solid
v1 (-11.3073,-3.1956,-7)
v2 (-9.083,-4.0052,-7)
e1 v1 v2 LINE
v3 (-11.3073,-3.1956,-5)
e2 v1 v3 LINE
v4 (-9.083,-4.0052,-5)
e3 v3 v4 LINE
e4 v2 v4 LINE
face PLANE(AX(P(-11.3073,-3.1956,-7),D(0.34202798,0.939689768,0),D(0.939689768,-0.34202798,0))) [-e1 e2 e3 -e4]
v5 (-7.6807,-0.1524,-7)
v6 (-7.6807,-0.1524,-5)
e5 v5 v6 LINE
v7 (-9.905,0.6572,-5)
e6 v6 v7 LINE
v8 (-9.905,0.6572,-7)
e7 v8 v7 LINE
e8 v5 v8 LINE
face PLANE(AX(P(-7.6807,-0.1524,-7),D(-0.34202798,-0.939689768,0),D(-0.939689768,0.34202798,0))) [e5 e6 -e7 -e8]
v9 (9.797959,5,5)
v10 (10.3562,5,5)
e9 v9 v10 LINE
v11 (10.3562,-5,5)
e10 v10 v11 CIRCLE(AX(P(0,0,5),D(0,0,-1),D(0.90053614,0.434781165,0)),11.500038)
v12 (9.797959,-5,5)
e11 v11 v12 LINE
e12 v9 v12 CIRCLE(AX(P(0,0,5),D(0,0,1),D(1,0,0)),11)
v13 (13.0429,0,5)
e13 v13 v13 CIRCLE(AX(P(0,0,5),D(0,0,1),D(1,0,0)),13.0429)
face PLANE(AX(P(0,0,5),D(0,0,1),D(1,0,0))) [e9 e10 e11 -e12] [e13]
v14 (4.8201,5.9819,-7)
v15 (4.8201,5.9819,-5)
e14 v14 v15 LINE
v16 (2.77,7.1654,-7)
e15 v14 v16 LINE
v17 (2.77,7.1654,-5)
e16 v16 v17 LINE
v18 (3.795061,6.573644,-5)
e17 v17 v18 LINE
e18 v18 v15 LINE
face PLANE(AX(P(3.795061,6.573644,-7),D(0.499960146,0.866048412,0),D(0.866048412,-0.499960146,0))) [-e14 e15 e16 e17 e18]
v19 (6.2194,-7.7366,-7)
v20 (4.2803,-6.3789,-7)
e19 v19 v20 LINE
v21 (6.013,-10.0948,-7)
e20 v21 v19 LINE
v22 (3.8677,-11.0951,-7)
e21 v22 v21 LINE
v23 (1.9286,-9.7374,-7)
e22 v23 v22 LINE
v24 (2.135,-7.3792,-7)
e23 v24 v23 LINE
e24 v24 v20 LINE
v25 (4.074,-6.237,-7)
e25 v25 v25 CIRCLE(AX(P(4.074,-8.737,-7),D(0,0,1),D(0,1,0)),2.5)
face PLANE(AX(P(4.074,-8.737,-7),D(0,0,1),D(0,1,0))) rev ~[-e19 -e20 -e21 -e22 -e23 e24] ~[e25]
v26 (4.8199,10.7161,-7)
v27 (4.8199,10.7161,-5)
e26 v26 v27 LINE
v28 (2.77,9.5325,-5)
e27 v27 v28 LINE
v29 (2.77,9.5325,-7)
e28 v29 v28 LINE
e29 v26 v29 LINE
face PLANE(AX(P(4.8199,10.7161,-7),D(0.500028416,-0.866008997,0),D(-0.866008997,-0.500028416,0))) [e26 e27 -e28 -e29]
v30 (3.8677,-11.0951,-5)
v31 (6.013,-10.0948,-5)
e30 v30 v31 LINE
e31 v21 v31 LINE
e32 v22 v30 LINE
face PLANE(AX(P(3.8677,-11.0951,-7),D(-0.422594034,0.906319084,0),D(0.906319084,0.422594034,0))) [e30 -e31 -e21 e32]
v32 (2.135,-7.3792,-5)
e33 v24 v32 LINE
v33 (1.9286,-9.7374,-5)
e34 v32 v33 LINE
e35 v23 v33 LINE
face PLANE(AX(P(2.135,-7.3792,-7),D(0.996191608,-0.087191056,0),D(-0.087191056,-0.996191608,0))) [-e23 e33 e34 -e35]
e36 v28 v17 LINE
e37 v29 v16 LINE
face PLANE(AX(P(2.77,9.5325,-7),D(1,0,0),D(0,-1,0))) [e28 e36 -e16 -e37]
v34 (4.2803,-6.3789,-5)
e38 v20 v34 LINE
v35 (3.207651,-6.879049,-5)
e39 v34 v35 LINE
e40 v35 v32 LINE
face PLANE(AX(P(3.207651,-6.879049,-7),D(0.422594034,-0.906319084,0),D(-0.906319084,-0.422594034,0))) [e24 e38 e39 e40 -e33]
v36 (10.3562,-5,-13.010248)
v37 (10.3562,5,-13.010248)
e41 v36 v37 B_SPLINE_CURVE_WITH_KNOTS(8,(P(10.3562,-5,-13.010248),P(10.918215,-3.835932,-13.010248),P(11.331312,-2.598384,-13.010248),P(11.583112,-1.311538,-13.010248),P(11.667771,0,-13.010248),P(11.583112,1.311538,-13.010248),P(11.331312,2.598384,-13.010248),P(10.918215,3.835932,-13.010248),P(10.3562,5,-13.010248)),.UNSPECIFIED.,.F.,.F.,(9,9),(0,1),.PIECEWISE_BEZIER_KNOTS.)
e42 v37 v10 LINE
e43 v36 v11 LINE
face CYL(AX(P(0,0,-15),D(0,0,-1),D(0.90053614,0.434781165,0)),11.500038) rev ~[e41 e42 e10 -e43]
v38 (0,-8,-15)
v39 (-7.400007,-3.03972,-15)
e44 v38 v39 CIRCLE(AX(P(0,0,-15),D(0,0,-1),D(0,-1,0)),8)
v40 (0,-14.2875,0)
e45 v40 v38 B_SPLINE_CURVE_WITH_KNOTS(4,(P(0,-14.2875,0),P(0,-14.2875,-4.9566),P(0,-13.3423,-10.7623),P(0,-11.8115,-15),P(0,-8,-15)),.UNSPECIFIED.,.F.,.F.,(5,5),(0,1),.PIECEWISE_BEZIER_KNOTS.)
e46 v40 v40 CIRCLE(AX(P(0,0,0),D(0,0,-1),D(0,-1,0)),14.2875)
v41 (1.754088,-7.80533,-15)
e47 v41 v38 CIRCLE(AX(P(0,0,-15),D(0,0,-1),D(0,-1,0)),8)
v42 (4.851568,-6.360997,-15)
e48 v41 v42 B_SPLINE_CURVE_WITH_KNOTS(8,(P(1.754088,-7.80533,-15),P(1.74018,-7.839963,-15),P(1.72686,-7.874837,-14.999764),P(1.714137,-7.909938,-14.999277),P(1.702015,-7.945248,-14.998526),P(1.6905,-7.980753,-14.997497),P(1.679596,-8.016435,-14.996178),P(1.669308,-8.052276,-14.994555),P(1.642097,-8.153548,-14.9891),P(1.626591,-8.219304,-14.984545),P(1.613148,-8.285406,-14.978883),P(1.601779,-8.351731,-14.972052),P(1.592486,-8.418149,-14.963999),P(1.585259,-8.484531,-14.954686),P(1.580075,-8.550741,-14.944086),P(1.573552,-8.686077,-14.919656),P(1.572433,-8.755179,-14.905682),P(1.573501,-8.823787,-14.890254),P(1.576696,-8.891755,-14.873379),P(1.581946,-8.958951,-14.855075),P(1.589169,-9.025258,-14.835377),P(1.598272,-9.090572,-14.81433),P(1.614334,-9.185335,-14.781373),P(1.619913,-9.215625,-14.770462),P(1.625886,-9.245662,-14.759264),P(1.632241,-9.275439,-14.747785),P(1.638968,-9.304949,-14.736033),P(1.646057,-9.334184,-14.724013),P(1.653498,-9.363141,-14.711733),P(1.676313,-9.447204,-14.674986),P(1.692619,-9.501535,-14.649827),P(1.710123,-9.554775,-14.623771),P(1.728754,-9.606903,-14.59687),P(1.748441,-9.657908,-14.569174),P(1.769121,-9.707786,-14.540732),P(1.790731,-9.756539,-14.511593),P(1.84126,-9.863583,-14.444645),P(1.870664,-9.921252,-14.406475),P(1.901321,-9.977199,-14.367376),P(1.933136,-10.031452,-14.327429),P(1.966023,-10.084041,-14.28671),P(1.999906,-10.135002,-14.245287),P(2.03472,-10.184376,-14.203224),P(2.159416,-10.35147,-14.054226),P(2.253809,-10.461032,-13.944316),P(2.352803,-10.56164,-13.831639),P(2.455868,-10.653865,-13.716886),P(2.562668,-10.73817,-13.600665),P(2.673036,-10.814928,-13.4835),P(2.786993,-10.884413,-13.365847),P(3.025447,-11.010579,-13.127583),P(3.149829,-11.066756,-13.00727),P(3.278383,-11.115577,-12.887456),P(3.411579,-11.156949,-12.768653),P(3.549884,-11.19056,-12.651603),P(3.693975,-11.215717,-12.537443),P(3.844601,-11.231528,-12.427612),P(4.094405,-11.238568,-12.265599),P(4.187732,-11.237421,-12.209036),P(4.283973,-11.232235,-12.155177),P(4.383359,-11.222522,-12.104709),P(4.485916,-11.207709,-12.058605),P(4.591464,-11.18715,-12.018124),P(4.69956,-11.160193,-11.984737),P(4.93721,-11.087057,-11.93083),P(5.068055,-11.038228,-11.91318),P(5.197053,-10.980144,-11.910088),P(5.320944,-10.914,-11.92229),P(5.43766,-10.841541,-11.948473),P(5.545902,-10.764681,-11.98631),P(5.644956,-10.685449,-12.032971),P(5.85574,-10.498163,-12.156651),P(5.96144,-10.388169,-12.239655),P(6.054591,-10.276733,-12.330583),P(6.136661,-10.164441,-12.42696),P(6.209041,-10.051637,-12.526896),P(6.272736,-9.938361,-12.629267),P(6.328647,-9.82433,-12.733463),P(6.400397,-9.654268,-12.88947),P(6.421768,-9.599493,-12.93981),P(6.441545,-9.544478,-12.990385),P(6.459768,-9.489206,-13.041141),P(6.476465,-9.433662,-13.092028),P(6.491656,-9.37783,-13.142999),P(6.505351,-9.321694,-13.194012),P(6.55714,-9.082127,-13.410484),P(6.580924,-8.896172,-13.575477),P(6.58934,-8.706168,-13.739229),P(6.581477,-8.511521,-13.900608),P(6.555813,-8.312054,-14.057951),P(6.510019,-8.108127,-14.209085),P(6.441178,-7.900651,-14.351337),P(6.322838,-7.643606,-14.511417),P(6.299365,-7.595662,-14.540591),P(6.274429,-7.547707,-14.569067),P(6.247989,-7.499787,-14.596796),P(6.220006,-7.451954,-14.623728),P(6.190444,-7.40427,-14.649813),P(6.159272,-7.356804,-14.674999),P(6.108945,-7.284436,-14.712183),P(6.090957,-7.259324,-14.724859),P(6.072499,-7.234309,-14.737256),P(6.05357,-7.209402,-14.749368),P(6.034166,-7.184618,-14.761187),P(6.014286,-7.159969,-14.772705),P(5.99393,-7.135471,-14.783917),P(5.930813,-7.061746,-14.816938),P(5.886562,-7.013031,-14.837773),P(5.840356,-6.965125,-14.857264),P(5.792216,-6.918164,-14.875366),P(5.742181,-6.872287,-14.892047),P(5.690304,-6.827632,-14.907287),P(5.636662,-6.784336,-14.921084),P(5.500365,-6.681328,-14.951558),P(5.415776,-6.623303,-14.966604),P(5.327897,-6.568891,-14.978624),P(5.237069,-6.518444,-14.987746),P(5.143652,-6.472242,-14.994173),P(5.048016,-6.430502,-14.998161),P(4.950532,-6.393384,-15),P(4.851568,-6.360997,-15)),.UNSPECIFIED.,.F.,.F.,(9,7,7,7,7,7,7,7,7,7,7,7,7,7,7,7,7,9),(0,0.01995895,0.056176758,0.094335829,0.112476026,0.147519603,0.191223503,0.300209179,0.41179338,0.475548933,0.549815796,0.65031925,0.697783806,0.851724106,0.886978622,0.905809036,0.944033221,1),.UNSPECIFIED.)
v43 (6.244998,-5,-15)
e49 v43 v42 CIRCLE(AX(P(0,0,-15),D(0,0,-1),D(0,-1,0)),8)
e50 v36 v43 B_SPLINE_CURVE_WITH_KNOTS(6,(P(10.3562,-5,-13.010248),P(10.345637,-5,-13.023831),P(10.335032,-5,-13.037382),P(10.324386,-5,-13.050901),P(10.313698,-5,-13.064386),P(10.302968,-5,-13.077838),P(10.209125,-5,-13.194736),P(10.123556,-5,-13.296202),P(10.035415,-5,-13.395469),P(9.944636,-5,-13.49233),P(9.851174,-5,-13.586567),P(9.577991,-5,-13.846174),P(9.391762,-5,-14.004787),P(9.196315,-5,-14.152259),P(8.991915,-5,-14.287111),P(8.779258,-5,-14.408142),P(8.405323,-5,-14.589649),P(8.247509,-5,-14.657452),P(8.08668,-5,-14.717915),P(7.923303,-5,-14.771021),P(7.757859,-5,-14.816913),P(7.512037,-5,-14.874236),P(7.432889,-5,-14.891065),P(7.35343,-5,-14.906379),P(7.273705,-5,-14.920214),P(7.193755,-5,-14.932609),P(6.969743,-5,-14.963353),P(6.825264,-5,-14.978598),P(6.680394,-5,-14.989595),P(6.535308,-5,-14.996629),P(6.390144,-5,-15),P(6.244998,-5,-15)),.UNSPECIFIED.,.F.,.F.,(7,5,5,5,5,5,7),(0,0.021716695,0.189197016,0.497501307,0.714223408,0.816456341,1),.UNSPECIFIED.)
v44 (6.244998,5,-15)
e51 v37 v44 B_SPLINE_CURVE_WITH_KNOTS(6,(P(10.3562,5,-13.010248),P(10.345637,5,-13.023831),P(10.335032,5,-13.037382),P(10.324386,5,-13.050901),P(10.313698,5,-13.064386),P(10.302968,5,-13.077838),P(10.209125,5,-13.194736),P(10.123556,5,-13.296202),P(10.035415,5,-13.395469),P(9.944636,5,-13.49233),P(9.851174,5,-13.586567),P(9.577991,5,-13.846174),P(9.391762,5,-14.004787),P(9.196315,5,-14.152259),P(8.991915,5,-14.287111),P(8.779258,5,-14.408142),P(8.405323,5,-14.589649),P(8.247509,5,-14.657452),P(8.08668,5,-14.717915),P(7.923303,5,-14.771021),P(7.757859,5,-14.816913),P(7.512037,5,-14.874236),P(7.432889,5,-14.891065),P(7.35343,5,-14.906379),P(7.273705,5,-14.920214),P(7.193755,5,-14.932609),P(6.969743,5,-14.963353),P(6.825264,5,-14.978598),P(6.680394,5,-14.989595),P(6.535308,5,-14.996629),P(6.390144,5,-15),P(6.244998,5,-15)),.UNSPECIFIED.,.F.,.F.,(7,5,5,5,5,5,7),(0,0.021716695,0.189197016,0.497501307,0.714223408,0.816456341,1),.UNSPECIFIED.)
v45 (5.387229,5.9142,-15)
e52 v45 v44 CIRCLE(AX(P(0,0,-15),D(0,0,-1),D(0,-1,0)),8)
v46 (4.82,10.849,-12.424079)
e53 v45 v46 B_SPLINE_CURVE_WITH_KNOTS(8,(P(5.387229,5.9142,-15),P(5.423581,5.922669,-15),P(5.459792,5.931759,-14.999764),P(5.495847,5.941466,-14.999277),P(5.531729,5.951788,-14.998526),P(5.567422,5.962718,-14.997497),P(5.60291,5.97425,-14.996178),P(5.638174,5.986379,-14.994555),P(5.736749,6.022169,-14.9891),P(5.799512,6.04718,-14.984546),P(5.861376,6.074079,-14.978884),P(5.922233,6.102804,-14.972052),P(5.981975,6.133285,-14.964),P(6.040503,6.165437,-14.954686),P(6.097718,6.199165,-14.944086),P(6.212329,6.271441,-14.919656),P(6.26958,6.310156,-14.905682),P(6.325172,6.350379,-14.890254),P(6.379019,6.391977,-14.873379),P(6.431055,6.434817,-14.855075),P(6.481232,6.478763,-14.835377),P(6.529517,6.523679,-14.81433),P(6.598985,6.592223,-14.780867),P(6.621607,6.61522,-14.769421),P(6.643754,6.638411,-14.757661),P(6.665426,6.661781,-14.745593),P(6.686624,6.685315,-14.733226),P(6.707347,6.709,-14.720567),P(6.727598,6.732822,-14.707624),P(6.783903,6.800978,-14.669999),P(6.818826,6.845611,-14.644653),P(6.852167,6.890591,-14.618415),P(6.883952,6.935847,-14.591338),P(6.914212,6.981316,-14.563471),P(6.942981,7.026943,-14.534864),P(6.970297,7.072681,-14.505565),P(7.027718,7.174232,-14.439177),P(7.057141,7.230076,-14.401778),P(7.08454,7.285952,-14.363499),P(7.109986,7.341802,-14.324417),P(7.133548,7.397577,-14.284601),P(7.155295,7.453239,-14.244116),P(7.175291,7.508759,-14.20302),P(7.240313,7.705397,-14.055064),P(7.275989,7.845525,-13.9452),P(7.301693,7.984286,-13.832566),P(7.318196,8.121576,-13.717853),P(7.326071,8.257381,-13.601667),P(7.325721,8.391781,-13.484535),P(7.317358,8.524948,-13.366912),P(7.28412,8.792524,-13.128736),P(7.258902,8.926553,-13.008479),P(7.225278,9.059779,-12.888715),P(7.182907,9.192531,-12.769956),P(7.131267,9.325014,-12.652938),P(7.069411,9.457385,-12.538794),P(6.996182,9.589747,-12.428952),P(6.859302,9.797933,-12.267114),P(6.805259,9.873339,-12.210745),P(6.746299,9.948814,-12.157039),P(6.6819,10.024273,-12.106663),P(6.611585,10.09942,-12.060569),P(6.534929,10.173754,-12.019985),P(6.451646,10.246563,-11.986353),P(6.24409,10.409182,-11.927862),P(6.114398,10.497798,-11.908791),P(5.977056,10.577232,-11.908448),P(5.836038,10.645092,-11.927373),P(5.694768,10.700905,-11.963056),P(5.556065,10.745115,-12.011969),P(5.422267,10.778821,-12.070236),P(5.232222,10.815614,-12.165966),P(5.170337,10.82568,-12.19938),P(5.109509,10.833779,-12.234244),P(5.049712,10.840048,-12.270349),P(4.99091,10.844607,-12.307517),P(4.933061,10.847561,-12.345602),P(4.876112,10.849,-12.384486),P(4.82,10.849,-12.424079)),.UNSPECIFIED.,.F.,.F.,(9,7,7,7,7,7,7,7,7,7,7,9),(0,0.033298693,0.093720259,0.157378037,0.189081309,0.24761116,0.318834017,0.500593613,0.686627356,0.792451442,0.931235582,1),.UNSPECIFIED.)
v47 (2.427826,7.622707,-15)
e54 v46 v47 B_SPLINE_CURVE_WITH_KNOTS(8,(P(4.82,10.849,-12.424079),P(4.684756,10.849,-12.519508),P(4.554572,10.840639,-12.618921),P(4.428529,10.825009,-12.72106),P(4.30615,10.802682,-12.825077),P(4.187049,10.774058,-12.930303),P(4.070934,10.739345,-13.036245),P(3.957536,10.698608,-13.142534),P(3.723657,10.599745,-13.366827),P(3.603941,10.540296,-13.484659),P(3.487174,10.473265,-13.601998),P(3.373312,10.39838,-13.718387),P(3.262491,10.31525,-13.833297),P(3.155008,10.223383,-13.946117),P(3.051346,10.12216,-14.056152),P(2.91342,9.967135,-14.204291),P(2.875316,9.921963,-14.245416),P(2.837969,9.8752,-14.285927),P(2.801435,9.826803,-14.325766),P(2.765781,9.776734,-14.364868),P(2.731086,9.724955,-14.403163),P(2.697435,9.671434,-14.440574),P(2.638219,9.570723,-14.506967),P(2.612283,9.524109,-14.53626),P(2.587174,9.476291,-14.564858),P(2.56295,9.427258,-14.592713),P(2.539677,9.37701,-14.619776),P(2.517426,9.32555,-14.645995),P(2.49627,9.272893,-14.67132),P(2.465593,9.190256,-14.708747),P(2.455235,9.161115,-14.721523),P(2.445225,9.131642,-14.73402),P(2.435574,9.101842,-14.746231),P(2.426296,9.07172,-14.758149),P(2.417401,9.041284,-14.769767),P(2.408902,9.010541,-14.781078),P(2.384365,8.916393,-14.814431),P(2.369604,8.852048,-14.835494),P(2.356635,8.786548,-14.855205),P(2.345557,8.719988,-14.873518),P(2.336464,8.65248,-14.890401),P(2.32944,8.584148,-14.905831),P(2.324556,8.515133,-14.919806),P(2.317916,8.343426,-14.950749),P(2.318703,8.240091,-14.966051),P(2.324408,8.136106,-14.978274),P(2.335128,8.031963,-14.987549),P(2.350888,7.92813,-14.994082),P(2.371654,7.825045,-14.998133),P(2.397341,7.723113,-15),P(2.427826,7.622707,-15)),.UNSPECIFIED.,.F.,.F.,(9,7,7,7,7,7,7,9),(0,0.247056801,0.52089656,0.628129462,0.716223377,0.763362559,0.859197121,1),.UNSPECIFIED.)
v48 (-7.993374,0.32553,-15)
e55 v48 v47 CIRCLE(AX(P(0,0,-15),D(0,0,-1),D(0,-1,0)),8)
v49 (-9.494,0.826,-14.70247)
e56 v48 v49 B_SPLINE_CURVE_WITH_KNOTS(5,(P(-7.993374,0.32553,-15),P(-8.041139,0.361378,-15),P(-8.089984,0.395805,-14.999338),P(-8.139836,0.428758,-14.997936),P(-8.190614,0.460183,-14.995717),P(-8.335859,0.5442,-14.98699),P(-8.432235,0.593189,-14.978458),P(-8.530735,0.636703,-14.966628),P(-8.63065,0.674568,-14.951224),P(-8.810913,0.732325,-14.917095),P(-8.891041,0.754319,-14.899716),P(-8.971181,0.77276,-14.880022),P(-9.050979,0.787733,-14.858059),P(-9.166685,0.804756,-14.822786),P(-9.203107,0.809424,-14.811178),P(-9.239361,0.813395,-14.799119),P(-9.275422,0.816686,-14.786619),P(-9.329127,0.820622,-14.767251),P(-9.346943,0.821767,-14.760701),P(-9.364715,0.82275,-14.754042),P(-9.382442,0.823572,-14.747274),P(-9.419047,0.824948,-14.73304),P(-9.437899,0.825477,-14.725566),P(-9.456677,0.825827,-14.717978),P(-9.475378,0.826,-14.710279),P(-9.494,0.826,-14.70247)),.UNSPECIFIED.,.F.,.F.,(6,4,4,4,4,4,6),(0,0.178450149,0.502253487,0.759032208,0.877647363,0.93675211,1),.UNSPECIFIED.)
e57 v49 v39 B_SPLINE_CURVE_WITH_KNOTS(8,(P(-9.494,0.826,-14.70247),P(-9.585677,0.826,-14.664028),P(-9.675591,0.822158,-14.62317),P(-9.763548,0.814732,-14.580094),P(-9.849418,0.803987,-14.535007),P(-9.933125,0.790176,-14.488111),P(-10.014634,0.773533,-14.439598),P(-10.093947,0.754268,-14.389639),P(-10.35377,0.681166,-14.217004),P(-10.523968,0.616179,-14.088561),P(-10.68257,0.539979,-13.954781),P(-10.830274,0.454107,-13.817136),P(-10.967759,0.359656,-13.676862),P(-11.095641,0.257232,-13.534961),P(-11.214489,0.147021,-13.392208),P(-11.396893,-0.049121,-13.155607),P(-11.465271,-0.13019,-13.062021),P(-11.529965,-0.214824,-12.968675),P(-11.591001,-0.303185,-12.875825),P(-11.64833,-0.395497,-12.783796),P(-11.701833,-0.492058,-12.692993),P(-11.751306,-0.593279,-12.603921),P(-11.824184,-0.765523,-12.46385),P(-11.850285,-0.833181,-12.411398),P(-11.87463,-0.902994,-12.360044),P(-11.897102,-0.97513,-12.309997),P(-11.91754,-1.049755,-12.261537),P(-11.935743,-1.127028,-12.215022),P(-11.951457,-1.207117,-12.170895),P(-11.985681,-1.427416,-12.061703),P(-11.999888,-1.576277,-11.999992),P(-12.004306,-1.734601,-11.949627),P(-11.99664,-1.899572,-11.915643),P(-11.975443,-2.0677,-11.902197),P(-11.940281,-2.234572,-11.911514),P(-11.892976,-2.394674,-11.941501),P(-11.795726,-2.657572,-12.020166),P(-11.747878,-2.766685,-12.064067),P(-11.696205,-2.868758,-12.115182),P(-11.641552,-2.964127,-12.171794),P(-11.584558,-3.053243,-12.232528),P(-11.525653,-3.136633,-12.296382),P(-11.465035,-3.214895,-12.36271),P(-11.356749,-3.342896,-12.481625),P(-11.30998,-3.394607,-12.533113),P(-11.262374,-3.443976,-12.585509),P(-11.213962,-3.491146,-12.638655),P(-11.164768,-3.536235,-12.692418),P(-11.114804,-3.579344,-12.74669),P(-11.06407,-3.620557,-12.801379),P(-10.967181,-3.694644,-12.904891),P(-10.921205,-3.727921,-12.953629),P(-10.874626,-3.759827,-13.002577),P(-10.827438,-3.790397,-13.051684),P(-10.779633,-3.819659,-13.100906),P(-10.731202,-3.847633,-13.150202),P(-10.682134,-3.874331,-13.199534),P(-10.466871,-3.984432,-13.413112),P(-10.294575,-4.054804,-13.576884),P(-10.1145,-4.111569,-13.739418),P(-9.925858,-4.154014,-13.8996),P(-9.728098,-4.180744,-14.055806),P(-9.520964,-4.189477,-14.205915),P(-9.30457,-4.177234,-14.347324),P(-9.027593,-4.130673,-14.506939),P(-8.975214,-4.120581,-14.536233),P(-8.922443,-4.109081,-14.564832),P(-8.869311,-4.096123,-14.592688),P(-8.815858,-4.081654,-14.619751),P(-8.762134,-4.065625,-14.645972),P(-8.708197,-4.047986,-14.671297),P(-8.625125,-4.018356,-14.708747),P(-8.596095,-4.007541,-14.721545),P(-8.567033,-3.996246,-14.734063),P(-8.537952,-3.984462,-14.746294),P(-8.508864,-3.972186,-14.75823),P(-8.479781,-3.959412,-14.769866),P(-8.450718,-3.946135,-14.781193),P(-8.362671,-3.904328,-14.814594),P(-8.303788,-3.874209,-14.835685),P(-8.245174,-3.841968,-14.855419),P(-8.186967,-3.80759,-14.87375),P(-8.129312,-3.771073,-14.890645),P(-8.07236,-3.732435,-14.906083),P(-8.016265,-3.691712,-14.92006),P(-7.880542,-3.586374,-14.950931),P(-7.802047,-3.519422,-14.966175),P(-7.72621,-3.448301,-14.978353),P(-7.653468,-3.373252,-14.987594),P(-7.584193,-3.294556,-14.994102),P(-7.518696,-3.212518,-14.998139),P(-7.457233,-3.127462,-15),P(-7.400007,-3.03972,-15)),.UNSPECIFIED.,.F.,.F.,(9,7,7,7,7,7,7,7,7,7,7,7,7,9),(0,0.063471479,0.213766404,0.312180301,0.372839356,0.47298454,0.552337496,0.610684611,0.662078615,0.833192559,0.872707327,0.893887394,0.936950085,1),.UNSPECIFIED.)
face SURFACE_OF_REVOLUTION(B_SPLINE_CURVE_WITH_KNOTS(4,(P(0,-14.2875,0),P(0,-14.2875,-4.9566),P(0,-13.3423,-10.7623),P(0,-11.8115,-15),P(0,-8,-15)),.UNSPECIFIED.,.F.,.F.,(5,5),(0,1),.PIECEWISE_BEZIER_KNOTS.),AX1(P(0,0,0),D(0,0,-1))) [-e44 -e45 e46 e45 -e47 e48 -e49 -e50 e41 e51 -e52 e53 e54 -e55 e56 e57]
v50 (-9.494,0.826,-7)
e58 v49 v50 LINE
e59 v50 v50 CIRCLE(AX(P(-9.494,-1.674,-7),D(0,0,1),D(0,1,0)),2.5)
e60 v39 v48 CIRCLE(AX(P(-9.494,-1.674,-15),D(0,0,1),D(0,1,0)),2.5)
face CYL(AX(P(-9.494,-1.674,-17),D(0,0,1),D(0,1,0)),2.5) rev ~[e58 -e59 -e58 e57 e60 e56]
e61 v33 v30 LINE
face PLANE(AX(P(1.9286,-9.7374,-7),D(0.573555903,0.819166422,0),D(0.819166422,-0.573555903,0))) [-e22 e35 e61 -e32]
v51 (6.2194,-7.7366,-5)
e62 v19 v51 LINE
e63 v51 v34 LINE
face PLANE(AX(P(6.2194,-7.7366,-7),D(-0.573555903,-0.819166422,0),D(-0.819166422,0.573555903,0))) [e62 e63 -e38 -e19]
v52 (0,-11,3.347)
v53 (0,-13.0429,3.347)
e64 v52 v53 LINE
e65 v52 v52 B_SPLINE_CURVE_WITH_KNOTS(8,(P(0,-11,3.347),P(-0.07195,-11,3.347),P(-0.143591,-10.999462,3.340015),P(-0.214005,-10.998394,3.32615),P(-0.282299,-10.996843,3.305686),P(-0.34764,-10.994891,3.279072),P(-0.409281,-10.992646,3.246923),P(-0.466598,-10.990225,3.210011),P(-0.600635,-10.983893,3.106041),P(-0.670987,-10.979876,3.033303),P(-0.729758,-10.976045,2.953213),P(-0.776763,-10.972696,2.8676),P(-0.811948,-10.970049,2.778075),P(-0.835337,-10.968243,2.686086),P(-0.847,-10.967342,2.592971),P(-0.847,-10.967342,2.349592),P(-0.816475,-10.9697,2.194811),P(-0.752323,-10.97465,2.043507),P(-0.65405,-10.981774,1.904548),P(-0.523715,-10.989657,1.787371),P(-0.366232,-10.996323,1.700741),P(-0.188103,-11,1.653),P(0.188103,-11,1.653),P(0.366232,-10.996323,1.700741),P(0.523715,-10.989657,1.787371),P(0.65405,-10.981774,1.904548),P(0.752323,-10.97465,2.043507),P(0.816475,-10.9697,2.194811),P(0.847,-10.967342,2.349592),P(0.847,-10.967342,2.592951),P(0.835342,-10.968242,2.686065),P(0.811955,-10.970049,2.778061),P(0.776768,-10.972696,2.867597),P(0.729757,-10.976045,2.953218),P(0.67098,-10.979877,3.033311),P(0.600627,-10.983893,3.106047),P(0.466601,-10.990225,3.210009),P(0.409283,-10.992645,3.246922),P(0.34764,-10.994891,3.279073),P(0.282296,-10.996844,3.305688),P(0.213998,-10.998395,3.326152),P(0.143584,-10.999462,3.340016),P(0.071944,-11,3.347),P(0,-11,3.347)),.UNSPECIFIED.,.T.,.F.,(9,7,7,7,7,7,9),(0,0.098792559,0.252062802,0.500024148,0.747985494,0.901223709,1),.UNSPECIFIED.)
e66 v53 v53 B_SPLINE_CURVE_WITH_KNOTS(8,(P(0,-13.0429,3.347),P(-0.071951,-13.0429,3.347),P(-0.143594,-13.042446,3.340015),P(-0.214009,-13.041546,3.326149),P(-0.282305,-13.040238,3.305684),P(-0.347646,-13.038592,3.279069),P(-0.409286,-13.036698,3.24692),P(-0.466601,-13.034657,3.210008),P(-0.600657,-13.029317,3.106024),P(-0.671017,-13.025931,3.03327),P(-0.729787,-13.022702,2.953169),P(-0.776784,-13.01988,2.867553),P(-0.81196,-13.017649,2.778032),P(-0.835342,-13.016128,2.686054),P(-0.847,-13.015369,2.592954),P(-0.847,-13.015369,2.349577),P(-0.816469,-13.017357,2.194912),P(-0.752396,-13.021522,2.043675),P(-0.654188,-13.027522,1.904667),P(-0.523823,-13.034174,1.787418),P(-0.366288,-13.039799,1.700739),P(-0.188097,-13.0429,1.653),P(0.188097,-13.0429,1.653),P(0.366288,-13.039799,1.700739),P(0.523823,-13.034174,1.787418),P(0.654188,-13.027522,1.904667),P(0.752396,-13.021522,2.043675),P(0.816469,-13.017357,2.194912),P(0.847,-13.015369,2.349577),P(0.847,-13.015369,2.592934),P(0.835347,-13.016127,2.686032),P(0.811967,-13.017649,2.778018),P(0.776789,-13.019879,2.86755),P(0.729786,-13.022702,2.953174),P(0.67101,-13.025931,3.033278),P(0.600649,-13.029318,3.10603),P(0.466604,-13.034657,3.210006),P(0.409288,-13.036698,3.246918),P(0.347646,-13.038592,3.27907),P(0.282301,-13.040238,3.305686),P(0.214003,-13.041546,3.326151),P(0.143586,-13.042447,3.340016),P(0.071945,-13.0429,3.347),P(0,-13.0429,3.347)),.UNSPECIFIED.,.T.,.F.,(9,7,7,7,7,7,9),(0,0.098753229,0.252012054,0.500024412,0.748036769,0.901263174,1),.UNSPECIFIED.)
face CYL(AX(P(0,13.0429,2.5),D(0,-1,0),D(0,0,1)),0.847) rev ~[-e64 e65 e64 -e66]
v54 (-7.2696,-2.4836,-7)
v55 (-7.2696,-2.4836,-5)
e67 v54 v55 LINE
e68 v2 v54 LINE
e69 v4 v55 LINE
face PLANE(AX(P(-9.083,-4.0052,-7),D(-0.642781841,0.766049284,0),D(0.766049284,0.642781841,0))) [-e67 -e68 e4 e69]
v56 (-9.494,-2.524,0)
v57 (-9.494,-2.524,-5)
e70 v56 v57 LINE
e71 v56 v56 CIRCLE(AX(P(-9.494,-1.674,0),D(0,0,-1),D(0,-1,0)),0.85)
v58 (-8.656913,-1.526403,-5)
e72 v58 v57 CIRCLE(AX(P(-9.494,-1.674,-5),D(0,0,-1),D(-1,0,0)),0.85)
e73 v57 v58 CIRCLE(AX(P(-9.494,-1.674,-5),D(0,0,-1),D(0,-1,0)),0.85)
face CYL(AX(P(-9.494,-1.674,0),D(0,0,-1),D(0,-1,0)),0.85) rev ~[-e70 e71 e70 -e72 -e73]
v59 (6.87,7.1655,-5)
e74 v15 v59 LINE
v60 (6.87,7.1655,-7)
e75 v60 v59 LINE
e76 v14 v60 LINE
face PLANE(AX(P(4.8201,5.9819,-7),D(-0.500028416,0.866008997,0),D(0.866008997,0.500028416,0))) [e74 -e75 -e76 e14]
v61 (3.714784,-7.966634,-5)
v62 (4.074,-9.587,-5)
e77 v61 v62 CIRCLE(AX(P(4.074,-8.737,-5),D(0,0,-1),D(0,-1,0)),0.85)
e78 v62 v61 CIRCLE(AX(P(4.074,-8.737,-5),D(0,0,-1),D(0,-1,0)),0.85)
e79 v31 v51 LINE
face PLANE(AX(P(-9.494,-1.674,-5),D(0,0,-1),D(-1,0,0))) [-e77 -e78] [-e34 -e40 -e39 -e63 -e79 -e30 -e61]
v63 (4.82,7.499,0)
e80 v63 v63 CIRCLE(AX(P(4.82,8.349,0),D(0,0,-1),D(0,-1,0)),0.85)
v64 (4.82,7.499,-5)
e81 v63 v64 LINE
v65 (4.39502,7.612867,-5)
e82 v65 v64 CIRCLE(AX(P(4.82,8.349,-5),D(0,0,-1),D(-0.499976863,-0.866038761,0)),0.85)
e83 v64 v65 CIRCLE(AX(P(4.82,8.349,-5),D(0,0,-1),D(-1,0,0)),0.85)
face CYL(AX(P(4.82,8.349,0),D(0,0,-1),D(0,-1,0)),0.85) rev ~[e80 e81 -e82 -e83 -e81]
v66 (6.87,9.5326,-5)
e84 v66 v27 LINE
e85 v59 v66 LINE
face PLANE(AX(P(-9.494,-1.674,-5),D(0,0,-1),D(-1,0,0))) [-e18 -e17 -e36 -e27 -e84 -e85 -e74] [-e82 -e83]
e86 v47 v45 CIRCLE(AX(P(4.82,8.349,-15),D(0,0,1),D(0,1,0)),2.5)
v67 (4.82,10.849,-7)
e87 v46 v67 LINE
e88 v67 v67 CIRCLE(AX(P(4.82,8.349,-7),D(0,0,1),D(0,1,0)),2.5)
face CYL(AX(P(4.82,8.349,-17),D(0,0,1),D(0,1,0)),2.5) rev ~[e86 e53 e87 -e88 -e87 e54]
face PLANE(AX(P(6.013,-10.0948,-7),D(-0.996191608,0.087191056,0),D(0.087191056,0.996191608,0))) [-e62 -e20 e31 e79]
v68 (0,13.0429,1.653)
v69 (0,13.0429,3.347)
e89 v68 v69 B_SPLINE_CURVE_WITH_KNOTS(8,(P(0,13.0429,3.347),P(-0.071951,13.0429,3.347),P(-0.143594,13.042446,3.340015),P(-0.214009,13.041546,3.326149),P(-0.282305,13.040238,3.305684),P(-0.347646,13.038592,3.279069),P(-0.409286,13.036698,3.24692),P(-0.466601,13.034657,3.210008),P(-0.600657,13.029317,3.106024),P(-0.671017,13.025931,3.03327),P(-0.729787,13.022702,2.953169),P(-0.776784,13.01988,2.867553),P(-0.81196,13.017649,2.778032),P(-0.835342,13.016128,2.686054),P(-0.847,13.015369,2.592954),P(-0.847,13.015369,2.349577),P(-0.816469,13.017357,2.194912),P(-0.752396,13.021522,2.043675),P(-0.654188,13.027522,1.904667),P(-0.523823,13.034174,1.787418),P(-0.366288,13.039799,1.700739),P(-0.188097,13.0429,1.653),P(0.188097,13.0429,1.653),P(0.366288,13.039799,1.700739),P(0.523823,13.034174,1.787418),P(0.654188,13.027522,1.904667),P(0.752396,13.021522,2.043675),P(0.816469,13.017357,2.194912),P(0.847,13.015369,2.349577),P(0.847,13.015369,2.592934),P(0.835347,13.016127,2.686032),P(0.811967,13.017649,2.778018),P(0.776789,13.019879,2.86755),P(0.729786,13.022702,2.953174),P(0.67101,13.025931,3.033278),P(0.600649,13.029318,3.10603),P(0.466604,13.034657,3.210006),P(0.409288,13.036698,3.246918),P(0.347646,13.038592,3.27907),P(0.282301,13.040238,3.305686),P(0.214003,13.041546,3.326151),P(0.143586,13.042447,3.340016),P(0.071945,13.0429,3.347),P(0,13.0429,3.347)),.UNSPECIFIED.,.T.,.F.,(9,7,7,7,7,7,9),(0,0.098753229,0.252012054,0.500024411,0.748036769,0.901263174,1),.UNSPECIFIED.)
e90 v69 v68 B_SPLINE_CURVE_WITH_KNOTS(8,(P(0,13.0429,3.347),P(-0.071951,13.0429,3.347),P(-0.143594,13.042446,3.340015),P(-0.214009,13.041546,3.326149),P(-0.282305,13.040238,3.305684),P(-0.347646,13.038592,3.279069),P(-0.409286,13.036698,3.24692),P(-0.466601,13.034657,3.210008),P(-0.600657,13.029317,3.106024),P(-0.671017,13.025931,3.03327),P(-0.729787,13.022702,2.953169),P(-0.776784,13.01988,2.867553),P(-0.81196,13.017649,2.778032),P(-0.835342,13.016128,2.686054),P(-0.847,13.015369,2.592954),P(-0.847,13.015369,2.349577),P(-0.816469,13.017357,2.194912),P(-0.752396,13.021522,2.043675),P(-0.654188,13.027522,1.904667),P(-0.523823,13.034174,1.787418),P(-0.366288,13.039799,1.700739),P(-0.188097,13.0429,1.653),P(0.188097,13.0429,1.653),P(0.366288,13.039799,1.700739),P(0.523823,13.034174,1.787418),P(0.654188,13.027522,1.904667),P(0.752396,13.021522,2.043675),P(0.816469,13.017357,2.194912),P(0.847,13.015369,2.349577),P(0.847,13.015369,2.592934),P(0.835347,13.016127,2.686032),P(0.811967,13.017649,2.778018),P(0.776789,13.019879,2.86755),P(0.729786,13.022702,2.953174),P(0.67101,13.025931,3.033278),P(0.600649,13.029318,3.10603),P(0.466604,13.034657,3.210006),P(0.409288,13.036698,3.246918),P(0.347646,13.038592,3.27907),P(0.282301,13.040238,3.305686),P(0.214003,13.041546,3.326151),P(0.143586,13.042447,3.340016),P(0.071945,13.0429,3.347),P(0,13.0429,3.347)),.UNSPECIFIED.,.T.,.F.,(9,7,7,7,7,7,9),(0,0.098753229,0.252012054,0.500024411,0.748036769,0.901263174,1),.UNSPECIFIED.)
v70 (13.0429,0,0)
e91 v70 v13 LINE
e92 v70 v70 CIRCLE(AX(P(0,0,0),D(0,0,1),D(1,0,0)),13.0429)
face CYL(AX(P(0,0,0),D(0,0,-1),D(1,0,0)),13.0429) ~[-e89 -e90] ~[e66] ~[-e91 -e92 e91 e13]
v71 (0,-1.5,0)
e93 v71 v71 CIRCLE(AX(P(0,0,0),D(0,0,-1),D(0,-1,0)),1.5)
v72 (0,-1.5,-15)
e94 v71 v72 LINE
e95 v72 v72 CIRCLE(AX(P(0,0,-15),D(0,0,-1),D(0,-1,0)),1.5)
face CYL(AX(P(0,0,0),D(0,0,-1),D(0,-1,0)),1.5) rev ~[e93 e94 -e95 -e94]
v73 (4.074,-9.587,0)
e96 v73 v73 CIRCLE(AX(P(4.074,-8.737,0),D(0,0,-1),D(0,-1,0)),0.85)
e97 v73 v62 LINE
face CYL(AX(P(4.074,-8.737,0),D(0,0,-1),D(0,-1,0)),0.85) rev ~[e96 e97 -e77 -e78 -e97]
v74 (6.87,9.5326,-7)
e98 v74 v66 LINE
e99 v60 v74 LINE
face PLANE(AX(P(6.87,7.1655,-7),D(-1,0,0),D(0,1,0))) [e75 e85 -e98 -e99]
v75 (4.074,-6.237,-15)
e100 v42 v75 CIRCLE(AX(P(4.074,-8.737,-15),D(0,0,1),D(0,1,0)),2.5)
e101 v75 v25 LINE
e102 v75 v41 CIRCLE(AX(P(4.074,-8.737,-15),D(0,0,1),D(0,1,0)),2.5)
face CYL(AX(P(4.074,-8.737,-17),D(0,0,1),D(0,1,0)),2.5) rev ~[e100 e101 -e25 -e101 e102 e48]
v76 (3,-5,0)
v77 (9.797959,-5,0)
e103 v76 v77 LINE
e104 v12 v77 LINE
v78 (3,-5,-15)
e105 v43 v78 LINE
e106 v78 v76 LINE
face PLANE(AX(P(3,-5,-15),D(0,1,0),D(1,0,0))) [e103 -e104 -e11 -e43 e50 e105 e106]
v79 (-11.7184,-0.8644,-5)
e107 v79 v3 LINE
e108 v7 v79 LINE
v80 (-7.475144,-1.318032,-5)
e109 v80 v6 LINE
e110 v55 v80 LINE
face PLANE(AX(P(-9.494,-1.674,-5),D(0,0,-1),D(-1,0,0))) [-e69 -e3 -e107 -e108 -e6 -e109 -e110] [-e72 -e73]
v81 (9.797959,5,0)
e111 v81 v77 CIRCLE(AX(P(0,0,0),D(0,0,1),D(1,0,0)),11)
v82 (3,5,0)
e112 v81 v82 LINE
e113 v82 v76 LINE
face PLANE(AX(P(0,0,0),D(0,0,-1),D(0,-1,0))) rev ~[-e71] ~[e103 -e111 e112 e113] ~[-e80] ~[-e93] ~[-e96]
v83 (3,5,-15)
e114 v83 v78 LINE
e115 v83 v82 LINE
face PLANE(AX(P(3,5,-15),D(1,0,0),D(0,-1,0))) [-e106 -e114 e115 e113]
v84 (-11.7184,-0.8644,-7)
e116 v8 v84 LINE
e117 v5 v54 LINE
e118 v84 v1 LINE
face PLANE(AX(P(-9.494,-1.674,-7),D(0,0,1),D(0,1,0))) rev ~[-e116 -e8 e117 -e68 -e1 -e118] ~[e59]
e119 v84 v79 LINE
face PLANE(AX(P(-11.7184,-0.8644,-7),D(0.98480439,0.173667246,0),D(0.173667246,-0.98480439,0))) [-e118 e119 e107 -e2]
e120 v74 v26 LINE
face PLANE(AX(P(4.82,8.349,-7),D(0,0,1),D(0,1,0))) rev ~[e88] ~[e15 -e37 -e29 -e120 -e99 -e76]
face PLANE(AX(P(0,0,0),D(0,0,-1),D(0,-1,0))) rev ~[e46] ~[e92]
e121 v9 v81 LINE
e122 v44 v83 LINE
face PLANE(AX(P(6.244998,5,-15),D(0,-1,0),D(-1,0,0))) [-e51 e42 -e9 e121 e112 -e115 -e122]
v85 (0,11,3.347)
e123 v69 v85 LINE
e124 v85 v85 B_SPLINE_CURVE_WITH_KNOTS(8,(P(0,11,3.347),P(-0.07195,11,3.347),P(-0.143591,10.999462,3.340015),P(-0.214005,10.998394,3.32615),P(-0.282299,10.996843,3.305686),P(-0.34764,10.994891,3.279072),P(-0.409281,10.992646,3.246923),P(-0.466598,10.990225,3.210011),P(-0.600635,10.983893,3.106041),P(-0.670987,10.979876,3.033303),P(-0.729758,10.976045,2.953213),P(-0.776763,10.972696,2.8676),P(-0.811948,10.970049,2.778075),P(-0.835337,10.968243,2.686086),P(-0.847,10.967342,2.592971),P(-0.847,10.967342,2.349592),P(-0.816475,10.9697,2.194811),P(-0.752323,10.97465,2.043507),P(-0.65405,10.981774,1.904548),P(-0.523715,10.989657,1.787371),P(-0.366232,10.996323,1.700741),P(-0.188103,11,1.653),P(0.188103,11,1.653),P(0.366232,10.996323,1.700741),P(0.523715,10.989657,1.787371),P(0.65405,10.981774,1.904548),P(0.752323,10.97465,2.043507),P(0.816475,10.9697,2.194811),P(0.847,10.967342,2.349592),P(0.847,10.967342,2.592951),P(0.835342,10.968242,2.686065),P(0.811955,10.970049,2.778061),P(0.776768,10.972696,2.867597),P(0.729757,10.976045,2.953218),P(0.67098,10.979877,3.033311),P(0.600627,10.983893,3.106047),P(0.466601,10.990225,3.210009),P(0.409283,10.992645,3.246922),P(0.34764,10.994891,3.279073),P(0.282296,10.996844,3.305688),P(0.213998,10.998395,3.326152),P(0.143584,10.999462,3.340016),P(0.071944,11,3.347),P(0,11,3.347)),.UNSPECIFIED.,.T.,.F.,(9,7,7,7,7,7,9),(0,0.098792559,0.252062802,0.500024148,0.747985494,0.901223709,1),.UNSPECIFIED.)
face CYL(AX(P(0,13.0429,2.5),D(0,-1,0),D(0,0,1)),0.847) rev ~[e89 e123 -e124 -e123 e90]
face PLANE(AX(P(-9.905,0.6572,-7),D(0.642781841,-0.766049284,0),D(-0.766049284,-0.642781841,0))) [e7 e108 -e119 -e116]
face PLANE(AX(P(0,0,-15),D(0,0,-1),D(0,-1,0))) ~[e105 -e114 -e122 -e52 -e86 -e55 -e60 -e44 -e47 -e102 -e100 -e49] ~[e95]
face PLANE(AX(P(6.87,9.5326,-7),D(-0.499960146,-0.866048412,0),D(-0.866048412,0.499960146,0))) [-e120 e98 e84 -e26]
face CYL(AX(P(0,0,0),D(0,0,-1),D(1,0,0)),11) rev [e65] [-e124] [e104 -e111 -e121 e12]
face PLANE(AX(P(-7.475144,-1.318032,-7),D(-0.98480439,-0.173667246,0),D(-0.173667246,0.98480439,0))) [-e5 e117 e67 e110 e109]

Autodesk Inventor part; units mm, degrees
ref_plane "YZ Plane" through (0, 0, 0) normal (1, 0, 0) x (0, 1, 0)
ref_plane "XY Plane" through (0, 0, 0) normal (0, 0, 1) x (1, 0, 0)
sketch "Sketch1" plane through (0, 0, 0) normal (0, 0, 1) x (1, 0, 0)
  point P0 (0, 0)
sketch "Sketch2" plane through (0, 0, 0) normal (1, 0, 0) x (0, 1, 0)
  line L0 (-13.0429, 0) -> (13.0429, 0)
  line L1 (13.0429, 0) -> (13.0429, 3.3095)
  line L2 (13.0429, 3.3095) -> (-13.0429, 3.3095)
  line L3 (-13.0429, 3.3095) -> (-13.0429, 0)
  line L4 (0, 0) -> (0, -15)
  line L5 (0, -15) -> (-8, -15)
  line L6 (-14.2875, 0) -> (14.2875, 0)
  line L7 (14.2875, 0) -> (14.2875, 6.8547)
  line L8 (14.2875, 6.8547) -> (-14.2875, 6.8547)
  line L9 (-14.2875, 6.8547) -> (-14.2875, 0)
  spline S0 degree 4 poles (-14.2875, 0) (-14.2875, -4.9566) (-13.3423, -10.7623) (-11.8115, -15) (-8, -15) knots 0 0 0 0 0 1 1 1 1 1
  point P0 (-12.3627, -11.4481)
  dimension "d1" = 26.0858
  dimension "d2" = 8
  dimension "d3" = 15
  dimension "d4" = 28.575
revolve "Revolution1" add sketch "Sketch2" angle 360 about axis through (0, 0, 0) along (0, 0, -1) contours L0 L4 L5 S0 L6
sketch "Sketch3" plane through (0, 0, 0) normal (0, 0, 1) x (1, 0, 0)
  circle A0 centre (0, 0) radius 14.2875 projected
  circle A1 centre (0, 0) radius 13.0429
  circle A2 centre (0, 0) radius 11
  point P0 (0, -14.2875)
  dimension "d6" = 26.0858
  dimension "d7" = 22
extrude "Extrusion1" add sketch "Sketch3" along normal blind 5 contours A1
hole "Hole1" at (0, 0, 0) direction (0, 0, -1) diameter 3 end through all
sketch "Sketch6" plane through (0, 0, 0) normal (0, 0, 1) x (1, 0, 0)
  circle A0 centre (0, 0) radius 12
  point P0 (4.074, -8.737)
  point P1 (4.82, 8.349)
  point P2 (-9.494, -1.674)
  dimension "d22" = -8.737
  dimension "d23" = 8.349
  dimension "d24" = 1.674
  dimension "d25" = 4.074
  dimension "d26" = 4.82
hole "Hole2" at (-9.494, -1.674, 0) at (4.82, 8.349, 0) at (4.074, -8.737, 0) direction (0, 0, -1) diameter 1.7 end through all clearance for "Flat Head Machine Screw (82)" size "#0" standard "Ansi Unified Screw Threads"
sketch "Sketch8" plane through (0, 0, 0) normal (0, 1, 0) x (-1, 0, 0)
  point P0 (0, 0)
sketch "Sketch9" plane through (0, 0, -15) normal (0, 0, -1) x (-1, 0, 0)
  circle A0 centre (0, 0) radius 1.5 projected
  line L0 (-10.3562, 5) -> (-3, 5)
  line L1 (-3, 5) -> (-3, -5)
  line L2 (-3, -5) -> (-10.3562, -5)
  line L3 (20.0025, 0) -> (-20.0025, 0) projected
  line L4 (0, -20.0025) -> (0, 20.0025) projected
  circle A1 centre (-4.82, 8.349) radius 0.85 projected
  circle A2 centre (-4.074, -8.737) radius 0.85 projected
  circle A3 centre (0, 0) radius 8 projected
  arc A4 (-10.3562, 5) -> (-10.3562, -5) centre (0, 0) ccw
  point P0 (0, -8)
  point P1 (-10.7619, 0)
  dimension "d34" = 3
  dimension "d35" = 8.349
  dimension "d36" = 8.737
  dimension "d37" = 10
extrude "Extrusion2" cut sketch "Sketch9" against normal through all contours L3 A3 L0 L1 | L1 L2 A3 L3 | A3 L3 A4 L0 | L2 A4 L3 A3
sketch "Sketch10" plane through (6.245, 5, -15) normal (0, 0, -1) x (-1, 0, 0)
  arc A0 (2.1327, 3.8197) -> (2.1327, 3.8197) centre (2.1327, 3.8197) ccw projected
  arc A1 (3.0175, -13.6604) -> (3.0175, -13.6604) centre (3.0175, -13.6604) ccw projected
  arc A2 (16.4746, -6.2481) -> (16.4746, -6.2481) centre (16.4746, -6.2481) ccw projected
  circle A3 centre (1.425, 3.349) radius 0.85 projected
  circle A4 centre (2.171, -13.737) radius 2.5
  circle A5 centre (2.171, -13.737) radius 0.85 projected
  circle A6 centre (15.739, -6.674) radius 2.5
  circle A7 centre (15.739, -6.674) radius 0.85 projected
  circle A8 centre (1.425, 3.349) radius 2.5
  dimension "d43" = 5
  dimension "d44" = 5
  dimension "d59" = 5
ref_plane "Work Plane1" through (6.245, 5, -17) normal (0, 0, -1) x (-1, 0, 0)
sketch "Sketch11" plane through (6.245, 5, -17) normal (0, 0, -1) x (-1, 0, 0)
  arc A0 (2.1327, 3.8197) -> (2.1327, 3.8197) centre (2.1327, 3.8197) ccw projected
  arc A1 (16.4746, -6.2481) -> (16.4746, -6.2481) centre (16.4746, -6.2481) ccw projected
  arc A2 (3.0175, -13.6604) -> (3.0175, -13.6604) centre (3.0175, -13.6604) ccw projected
  circle A3 centre (1.425, 3.349) radius 2.5
  circle A4 centre (1.425, 3.349) radius 0.85 projected
  circle A5 centre (2.171, -13.737) radius 2.5
  circle A6 centre (15.739, -6.674) radius 2.5
  circle A7 centre (15.739, -6.674) radius 0.85 projected
  circle A8 centre (2.171, -13.737) radius 0.85 projected
  point P0 (6.245, -5)
  dimension "d61" = 5
  dimension "d62" = 5
  dimension "d63" = 5
hole "Hole5" at (4.82, 8.349, -17) at (-9.494, -1.674, -17) at (4.074, -8.737, -17) direction (0, 0, 1) diameter 5 depth 10
sketch "Sketch12" plane through (-9.494, -1.674, -7) normal (0, 0, -1) x (-1, 0, 0)
  circle A0 centre (0, 0) radius 0.85 projected
  circle A1 centre (-14.314, 10.023) radius 0.85 projected
  circle A2 centre (-13.568, -7.063) radius 0.85 projected
  line L0 (-12.264, 8.8394) -> (-14.3141, 7.6559)
  line L1 (-14.3141, 7.6559) -> (-16.364, 8.8395)
  line L2 (-16.364, 8.8395) -> (-16.364, 11.2066)
  line L3 (-16.364, 11.2066) -> (-14.3139, 12.3901)
  line L4 (-14.3139, 12.3901) -> (-12.264, 11.2065)
  line L5 (-12.264, 11.2065) -> (-12.264, 8.8394)
  line L6 (-0.411, -2.3312) -> (-2.2244, -0.8096)
  line L7 (-2.2244, -0.8096) -> (-1.8133, 1.5216)
  line L8 (-1.8133, 1.5216) -> (0.411, 2.3312)
  line L9 (0.411, 2.3312) -> (2.2244, 0.8096)
  line L10 (2.2244, 0.8096) -> (1.8133, -1.5216)
  line L11 (1.8133, -1.5216) -> (-0.411, -2.3312)
  line L12 (-9.494, 1.674) -> (-14.314, 10.023)
  line L13 (-9.494, 1.674) -> (0, 0)
  line L14 (-9.494, 1.674) -> (-13.568, -7.063)
  line L15 (-11.4226, -8.0634) -> (-13.3617, -9.4211)
  line L16 (-13.3617, -9.4211) -> (-15.507, -8.4208)
  line L17 (-15.507, -8.4208) -> (-15.7134, -6.0626)
  line L18 (-15.7134, -6.0626) -> (-13.7743, -4.7049)
  line L19 (-13.7743, -4.7049) -> (-11.629, -5.7052)
  line L20 (-11.629, -5.7052) -> (-11.4226, -8.0634)
  dimension "d71" = 4.1
  dimension "d72" = 4.1
  dimension "d73" = 4.1
extrude "Extrusion3" cut sketch "Sketch12" against normal blind 2 contours L7 L8 L9 L10 L11 L6 | A2 | L19 L20 L15 L16 L17 L18 | L0 L1 L2 L3 L4 L5
ref_plane "Work Plane2" through (0, 13.0429, 0) normal (0, 1, 0) x (-1, 0, 0)
sketch "Sketch13" plane through (0, 13.0429, 0) normal (0, 1, 0) x (-1, 0, 0)
  line L0 (-13.0429, 5) -> (13.0429, 5) projected
  line L1 (-13.0429, 0) -> (13.0429, 0) projected
  line L2 (0, -19.0003) -> (0, 9.0001) projected
  point P0 (0, 0)
  point P1 (0, 2.5)
  dimension "d76" = 2.5
hole "Hole6" at (0, 13.0429, 2.5) direction (0, -1, 0) diameter 1.694 end through all thread size "2-56 UNC" class "2B" standard "ANSI Unified Screw Threads"
ref_plane "Work Plane3" through (0, -3.5, 0) normal (0, 1, 0) x (-1, 0, 0)
properties part number "Handle_2_Back"
